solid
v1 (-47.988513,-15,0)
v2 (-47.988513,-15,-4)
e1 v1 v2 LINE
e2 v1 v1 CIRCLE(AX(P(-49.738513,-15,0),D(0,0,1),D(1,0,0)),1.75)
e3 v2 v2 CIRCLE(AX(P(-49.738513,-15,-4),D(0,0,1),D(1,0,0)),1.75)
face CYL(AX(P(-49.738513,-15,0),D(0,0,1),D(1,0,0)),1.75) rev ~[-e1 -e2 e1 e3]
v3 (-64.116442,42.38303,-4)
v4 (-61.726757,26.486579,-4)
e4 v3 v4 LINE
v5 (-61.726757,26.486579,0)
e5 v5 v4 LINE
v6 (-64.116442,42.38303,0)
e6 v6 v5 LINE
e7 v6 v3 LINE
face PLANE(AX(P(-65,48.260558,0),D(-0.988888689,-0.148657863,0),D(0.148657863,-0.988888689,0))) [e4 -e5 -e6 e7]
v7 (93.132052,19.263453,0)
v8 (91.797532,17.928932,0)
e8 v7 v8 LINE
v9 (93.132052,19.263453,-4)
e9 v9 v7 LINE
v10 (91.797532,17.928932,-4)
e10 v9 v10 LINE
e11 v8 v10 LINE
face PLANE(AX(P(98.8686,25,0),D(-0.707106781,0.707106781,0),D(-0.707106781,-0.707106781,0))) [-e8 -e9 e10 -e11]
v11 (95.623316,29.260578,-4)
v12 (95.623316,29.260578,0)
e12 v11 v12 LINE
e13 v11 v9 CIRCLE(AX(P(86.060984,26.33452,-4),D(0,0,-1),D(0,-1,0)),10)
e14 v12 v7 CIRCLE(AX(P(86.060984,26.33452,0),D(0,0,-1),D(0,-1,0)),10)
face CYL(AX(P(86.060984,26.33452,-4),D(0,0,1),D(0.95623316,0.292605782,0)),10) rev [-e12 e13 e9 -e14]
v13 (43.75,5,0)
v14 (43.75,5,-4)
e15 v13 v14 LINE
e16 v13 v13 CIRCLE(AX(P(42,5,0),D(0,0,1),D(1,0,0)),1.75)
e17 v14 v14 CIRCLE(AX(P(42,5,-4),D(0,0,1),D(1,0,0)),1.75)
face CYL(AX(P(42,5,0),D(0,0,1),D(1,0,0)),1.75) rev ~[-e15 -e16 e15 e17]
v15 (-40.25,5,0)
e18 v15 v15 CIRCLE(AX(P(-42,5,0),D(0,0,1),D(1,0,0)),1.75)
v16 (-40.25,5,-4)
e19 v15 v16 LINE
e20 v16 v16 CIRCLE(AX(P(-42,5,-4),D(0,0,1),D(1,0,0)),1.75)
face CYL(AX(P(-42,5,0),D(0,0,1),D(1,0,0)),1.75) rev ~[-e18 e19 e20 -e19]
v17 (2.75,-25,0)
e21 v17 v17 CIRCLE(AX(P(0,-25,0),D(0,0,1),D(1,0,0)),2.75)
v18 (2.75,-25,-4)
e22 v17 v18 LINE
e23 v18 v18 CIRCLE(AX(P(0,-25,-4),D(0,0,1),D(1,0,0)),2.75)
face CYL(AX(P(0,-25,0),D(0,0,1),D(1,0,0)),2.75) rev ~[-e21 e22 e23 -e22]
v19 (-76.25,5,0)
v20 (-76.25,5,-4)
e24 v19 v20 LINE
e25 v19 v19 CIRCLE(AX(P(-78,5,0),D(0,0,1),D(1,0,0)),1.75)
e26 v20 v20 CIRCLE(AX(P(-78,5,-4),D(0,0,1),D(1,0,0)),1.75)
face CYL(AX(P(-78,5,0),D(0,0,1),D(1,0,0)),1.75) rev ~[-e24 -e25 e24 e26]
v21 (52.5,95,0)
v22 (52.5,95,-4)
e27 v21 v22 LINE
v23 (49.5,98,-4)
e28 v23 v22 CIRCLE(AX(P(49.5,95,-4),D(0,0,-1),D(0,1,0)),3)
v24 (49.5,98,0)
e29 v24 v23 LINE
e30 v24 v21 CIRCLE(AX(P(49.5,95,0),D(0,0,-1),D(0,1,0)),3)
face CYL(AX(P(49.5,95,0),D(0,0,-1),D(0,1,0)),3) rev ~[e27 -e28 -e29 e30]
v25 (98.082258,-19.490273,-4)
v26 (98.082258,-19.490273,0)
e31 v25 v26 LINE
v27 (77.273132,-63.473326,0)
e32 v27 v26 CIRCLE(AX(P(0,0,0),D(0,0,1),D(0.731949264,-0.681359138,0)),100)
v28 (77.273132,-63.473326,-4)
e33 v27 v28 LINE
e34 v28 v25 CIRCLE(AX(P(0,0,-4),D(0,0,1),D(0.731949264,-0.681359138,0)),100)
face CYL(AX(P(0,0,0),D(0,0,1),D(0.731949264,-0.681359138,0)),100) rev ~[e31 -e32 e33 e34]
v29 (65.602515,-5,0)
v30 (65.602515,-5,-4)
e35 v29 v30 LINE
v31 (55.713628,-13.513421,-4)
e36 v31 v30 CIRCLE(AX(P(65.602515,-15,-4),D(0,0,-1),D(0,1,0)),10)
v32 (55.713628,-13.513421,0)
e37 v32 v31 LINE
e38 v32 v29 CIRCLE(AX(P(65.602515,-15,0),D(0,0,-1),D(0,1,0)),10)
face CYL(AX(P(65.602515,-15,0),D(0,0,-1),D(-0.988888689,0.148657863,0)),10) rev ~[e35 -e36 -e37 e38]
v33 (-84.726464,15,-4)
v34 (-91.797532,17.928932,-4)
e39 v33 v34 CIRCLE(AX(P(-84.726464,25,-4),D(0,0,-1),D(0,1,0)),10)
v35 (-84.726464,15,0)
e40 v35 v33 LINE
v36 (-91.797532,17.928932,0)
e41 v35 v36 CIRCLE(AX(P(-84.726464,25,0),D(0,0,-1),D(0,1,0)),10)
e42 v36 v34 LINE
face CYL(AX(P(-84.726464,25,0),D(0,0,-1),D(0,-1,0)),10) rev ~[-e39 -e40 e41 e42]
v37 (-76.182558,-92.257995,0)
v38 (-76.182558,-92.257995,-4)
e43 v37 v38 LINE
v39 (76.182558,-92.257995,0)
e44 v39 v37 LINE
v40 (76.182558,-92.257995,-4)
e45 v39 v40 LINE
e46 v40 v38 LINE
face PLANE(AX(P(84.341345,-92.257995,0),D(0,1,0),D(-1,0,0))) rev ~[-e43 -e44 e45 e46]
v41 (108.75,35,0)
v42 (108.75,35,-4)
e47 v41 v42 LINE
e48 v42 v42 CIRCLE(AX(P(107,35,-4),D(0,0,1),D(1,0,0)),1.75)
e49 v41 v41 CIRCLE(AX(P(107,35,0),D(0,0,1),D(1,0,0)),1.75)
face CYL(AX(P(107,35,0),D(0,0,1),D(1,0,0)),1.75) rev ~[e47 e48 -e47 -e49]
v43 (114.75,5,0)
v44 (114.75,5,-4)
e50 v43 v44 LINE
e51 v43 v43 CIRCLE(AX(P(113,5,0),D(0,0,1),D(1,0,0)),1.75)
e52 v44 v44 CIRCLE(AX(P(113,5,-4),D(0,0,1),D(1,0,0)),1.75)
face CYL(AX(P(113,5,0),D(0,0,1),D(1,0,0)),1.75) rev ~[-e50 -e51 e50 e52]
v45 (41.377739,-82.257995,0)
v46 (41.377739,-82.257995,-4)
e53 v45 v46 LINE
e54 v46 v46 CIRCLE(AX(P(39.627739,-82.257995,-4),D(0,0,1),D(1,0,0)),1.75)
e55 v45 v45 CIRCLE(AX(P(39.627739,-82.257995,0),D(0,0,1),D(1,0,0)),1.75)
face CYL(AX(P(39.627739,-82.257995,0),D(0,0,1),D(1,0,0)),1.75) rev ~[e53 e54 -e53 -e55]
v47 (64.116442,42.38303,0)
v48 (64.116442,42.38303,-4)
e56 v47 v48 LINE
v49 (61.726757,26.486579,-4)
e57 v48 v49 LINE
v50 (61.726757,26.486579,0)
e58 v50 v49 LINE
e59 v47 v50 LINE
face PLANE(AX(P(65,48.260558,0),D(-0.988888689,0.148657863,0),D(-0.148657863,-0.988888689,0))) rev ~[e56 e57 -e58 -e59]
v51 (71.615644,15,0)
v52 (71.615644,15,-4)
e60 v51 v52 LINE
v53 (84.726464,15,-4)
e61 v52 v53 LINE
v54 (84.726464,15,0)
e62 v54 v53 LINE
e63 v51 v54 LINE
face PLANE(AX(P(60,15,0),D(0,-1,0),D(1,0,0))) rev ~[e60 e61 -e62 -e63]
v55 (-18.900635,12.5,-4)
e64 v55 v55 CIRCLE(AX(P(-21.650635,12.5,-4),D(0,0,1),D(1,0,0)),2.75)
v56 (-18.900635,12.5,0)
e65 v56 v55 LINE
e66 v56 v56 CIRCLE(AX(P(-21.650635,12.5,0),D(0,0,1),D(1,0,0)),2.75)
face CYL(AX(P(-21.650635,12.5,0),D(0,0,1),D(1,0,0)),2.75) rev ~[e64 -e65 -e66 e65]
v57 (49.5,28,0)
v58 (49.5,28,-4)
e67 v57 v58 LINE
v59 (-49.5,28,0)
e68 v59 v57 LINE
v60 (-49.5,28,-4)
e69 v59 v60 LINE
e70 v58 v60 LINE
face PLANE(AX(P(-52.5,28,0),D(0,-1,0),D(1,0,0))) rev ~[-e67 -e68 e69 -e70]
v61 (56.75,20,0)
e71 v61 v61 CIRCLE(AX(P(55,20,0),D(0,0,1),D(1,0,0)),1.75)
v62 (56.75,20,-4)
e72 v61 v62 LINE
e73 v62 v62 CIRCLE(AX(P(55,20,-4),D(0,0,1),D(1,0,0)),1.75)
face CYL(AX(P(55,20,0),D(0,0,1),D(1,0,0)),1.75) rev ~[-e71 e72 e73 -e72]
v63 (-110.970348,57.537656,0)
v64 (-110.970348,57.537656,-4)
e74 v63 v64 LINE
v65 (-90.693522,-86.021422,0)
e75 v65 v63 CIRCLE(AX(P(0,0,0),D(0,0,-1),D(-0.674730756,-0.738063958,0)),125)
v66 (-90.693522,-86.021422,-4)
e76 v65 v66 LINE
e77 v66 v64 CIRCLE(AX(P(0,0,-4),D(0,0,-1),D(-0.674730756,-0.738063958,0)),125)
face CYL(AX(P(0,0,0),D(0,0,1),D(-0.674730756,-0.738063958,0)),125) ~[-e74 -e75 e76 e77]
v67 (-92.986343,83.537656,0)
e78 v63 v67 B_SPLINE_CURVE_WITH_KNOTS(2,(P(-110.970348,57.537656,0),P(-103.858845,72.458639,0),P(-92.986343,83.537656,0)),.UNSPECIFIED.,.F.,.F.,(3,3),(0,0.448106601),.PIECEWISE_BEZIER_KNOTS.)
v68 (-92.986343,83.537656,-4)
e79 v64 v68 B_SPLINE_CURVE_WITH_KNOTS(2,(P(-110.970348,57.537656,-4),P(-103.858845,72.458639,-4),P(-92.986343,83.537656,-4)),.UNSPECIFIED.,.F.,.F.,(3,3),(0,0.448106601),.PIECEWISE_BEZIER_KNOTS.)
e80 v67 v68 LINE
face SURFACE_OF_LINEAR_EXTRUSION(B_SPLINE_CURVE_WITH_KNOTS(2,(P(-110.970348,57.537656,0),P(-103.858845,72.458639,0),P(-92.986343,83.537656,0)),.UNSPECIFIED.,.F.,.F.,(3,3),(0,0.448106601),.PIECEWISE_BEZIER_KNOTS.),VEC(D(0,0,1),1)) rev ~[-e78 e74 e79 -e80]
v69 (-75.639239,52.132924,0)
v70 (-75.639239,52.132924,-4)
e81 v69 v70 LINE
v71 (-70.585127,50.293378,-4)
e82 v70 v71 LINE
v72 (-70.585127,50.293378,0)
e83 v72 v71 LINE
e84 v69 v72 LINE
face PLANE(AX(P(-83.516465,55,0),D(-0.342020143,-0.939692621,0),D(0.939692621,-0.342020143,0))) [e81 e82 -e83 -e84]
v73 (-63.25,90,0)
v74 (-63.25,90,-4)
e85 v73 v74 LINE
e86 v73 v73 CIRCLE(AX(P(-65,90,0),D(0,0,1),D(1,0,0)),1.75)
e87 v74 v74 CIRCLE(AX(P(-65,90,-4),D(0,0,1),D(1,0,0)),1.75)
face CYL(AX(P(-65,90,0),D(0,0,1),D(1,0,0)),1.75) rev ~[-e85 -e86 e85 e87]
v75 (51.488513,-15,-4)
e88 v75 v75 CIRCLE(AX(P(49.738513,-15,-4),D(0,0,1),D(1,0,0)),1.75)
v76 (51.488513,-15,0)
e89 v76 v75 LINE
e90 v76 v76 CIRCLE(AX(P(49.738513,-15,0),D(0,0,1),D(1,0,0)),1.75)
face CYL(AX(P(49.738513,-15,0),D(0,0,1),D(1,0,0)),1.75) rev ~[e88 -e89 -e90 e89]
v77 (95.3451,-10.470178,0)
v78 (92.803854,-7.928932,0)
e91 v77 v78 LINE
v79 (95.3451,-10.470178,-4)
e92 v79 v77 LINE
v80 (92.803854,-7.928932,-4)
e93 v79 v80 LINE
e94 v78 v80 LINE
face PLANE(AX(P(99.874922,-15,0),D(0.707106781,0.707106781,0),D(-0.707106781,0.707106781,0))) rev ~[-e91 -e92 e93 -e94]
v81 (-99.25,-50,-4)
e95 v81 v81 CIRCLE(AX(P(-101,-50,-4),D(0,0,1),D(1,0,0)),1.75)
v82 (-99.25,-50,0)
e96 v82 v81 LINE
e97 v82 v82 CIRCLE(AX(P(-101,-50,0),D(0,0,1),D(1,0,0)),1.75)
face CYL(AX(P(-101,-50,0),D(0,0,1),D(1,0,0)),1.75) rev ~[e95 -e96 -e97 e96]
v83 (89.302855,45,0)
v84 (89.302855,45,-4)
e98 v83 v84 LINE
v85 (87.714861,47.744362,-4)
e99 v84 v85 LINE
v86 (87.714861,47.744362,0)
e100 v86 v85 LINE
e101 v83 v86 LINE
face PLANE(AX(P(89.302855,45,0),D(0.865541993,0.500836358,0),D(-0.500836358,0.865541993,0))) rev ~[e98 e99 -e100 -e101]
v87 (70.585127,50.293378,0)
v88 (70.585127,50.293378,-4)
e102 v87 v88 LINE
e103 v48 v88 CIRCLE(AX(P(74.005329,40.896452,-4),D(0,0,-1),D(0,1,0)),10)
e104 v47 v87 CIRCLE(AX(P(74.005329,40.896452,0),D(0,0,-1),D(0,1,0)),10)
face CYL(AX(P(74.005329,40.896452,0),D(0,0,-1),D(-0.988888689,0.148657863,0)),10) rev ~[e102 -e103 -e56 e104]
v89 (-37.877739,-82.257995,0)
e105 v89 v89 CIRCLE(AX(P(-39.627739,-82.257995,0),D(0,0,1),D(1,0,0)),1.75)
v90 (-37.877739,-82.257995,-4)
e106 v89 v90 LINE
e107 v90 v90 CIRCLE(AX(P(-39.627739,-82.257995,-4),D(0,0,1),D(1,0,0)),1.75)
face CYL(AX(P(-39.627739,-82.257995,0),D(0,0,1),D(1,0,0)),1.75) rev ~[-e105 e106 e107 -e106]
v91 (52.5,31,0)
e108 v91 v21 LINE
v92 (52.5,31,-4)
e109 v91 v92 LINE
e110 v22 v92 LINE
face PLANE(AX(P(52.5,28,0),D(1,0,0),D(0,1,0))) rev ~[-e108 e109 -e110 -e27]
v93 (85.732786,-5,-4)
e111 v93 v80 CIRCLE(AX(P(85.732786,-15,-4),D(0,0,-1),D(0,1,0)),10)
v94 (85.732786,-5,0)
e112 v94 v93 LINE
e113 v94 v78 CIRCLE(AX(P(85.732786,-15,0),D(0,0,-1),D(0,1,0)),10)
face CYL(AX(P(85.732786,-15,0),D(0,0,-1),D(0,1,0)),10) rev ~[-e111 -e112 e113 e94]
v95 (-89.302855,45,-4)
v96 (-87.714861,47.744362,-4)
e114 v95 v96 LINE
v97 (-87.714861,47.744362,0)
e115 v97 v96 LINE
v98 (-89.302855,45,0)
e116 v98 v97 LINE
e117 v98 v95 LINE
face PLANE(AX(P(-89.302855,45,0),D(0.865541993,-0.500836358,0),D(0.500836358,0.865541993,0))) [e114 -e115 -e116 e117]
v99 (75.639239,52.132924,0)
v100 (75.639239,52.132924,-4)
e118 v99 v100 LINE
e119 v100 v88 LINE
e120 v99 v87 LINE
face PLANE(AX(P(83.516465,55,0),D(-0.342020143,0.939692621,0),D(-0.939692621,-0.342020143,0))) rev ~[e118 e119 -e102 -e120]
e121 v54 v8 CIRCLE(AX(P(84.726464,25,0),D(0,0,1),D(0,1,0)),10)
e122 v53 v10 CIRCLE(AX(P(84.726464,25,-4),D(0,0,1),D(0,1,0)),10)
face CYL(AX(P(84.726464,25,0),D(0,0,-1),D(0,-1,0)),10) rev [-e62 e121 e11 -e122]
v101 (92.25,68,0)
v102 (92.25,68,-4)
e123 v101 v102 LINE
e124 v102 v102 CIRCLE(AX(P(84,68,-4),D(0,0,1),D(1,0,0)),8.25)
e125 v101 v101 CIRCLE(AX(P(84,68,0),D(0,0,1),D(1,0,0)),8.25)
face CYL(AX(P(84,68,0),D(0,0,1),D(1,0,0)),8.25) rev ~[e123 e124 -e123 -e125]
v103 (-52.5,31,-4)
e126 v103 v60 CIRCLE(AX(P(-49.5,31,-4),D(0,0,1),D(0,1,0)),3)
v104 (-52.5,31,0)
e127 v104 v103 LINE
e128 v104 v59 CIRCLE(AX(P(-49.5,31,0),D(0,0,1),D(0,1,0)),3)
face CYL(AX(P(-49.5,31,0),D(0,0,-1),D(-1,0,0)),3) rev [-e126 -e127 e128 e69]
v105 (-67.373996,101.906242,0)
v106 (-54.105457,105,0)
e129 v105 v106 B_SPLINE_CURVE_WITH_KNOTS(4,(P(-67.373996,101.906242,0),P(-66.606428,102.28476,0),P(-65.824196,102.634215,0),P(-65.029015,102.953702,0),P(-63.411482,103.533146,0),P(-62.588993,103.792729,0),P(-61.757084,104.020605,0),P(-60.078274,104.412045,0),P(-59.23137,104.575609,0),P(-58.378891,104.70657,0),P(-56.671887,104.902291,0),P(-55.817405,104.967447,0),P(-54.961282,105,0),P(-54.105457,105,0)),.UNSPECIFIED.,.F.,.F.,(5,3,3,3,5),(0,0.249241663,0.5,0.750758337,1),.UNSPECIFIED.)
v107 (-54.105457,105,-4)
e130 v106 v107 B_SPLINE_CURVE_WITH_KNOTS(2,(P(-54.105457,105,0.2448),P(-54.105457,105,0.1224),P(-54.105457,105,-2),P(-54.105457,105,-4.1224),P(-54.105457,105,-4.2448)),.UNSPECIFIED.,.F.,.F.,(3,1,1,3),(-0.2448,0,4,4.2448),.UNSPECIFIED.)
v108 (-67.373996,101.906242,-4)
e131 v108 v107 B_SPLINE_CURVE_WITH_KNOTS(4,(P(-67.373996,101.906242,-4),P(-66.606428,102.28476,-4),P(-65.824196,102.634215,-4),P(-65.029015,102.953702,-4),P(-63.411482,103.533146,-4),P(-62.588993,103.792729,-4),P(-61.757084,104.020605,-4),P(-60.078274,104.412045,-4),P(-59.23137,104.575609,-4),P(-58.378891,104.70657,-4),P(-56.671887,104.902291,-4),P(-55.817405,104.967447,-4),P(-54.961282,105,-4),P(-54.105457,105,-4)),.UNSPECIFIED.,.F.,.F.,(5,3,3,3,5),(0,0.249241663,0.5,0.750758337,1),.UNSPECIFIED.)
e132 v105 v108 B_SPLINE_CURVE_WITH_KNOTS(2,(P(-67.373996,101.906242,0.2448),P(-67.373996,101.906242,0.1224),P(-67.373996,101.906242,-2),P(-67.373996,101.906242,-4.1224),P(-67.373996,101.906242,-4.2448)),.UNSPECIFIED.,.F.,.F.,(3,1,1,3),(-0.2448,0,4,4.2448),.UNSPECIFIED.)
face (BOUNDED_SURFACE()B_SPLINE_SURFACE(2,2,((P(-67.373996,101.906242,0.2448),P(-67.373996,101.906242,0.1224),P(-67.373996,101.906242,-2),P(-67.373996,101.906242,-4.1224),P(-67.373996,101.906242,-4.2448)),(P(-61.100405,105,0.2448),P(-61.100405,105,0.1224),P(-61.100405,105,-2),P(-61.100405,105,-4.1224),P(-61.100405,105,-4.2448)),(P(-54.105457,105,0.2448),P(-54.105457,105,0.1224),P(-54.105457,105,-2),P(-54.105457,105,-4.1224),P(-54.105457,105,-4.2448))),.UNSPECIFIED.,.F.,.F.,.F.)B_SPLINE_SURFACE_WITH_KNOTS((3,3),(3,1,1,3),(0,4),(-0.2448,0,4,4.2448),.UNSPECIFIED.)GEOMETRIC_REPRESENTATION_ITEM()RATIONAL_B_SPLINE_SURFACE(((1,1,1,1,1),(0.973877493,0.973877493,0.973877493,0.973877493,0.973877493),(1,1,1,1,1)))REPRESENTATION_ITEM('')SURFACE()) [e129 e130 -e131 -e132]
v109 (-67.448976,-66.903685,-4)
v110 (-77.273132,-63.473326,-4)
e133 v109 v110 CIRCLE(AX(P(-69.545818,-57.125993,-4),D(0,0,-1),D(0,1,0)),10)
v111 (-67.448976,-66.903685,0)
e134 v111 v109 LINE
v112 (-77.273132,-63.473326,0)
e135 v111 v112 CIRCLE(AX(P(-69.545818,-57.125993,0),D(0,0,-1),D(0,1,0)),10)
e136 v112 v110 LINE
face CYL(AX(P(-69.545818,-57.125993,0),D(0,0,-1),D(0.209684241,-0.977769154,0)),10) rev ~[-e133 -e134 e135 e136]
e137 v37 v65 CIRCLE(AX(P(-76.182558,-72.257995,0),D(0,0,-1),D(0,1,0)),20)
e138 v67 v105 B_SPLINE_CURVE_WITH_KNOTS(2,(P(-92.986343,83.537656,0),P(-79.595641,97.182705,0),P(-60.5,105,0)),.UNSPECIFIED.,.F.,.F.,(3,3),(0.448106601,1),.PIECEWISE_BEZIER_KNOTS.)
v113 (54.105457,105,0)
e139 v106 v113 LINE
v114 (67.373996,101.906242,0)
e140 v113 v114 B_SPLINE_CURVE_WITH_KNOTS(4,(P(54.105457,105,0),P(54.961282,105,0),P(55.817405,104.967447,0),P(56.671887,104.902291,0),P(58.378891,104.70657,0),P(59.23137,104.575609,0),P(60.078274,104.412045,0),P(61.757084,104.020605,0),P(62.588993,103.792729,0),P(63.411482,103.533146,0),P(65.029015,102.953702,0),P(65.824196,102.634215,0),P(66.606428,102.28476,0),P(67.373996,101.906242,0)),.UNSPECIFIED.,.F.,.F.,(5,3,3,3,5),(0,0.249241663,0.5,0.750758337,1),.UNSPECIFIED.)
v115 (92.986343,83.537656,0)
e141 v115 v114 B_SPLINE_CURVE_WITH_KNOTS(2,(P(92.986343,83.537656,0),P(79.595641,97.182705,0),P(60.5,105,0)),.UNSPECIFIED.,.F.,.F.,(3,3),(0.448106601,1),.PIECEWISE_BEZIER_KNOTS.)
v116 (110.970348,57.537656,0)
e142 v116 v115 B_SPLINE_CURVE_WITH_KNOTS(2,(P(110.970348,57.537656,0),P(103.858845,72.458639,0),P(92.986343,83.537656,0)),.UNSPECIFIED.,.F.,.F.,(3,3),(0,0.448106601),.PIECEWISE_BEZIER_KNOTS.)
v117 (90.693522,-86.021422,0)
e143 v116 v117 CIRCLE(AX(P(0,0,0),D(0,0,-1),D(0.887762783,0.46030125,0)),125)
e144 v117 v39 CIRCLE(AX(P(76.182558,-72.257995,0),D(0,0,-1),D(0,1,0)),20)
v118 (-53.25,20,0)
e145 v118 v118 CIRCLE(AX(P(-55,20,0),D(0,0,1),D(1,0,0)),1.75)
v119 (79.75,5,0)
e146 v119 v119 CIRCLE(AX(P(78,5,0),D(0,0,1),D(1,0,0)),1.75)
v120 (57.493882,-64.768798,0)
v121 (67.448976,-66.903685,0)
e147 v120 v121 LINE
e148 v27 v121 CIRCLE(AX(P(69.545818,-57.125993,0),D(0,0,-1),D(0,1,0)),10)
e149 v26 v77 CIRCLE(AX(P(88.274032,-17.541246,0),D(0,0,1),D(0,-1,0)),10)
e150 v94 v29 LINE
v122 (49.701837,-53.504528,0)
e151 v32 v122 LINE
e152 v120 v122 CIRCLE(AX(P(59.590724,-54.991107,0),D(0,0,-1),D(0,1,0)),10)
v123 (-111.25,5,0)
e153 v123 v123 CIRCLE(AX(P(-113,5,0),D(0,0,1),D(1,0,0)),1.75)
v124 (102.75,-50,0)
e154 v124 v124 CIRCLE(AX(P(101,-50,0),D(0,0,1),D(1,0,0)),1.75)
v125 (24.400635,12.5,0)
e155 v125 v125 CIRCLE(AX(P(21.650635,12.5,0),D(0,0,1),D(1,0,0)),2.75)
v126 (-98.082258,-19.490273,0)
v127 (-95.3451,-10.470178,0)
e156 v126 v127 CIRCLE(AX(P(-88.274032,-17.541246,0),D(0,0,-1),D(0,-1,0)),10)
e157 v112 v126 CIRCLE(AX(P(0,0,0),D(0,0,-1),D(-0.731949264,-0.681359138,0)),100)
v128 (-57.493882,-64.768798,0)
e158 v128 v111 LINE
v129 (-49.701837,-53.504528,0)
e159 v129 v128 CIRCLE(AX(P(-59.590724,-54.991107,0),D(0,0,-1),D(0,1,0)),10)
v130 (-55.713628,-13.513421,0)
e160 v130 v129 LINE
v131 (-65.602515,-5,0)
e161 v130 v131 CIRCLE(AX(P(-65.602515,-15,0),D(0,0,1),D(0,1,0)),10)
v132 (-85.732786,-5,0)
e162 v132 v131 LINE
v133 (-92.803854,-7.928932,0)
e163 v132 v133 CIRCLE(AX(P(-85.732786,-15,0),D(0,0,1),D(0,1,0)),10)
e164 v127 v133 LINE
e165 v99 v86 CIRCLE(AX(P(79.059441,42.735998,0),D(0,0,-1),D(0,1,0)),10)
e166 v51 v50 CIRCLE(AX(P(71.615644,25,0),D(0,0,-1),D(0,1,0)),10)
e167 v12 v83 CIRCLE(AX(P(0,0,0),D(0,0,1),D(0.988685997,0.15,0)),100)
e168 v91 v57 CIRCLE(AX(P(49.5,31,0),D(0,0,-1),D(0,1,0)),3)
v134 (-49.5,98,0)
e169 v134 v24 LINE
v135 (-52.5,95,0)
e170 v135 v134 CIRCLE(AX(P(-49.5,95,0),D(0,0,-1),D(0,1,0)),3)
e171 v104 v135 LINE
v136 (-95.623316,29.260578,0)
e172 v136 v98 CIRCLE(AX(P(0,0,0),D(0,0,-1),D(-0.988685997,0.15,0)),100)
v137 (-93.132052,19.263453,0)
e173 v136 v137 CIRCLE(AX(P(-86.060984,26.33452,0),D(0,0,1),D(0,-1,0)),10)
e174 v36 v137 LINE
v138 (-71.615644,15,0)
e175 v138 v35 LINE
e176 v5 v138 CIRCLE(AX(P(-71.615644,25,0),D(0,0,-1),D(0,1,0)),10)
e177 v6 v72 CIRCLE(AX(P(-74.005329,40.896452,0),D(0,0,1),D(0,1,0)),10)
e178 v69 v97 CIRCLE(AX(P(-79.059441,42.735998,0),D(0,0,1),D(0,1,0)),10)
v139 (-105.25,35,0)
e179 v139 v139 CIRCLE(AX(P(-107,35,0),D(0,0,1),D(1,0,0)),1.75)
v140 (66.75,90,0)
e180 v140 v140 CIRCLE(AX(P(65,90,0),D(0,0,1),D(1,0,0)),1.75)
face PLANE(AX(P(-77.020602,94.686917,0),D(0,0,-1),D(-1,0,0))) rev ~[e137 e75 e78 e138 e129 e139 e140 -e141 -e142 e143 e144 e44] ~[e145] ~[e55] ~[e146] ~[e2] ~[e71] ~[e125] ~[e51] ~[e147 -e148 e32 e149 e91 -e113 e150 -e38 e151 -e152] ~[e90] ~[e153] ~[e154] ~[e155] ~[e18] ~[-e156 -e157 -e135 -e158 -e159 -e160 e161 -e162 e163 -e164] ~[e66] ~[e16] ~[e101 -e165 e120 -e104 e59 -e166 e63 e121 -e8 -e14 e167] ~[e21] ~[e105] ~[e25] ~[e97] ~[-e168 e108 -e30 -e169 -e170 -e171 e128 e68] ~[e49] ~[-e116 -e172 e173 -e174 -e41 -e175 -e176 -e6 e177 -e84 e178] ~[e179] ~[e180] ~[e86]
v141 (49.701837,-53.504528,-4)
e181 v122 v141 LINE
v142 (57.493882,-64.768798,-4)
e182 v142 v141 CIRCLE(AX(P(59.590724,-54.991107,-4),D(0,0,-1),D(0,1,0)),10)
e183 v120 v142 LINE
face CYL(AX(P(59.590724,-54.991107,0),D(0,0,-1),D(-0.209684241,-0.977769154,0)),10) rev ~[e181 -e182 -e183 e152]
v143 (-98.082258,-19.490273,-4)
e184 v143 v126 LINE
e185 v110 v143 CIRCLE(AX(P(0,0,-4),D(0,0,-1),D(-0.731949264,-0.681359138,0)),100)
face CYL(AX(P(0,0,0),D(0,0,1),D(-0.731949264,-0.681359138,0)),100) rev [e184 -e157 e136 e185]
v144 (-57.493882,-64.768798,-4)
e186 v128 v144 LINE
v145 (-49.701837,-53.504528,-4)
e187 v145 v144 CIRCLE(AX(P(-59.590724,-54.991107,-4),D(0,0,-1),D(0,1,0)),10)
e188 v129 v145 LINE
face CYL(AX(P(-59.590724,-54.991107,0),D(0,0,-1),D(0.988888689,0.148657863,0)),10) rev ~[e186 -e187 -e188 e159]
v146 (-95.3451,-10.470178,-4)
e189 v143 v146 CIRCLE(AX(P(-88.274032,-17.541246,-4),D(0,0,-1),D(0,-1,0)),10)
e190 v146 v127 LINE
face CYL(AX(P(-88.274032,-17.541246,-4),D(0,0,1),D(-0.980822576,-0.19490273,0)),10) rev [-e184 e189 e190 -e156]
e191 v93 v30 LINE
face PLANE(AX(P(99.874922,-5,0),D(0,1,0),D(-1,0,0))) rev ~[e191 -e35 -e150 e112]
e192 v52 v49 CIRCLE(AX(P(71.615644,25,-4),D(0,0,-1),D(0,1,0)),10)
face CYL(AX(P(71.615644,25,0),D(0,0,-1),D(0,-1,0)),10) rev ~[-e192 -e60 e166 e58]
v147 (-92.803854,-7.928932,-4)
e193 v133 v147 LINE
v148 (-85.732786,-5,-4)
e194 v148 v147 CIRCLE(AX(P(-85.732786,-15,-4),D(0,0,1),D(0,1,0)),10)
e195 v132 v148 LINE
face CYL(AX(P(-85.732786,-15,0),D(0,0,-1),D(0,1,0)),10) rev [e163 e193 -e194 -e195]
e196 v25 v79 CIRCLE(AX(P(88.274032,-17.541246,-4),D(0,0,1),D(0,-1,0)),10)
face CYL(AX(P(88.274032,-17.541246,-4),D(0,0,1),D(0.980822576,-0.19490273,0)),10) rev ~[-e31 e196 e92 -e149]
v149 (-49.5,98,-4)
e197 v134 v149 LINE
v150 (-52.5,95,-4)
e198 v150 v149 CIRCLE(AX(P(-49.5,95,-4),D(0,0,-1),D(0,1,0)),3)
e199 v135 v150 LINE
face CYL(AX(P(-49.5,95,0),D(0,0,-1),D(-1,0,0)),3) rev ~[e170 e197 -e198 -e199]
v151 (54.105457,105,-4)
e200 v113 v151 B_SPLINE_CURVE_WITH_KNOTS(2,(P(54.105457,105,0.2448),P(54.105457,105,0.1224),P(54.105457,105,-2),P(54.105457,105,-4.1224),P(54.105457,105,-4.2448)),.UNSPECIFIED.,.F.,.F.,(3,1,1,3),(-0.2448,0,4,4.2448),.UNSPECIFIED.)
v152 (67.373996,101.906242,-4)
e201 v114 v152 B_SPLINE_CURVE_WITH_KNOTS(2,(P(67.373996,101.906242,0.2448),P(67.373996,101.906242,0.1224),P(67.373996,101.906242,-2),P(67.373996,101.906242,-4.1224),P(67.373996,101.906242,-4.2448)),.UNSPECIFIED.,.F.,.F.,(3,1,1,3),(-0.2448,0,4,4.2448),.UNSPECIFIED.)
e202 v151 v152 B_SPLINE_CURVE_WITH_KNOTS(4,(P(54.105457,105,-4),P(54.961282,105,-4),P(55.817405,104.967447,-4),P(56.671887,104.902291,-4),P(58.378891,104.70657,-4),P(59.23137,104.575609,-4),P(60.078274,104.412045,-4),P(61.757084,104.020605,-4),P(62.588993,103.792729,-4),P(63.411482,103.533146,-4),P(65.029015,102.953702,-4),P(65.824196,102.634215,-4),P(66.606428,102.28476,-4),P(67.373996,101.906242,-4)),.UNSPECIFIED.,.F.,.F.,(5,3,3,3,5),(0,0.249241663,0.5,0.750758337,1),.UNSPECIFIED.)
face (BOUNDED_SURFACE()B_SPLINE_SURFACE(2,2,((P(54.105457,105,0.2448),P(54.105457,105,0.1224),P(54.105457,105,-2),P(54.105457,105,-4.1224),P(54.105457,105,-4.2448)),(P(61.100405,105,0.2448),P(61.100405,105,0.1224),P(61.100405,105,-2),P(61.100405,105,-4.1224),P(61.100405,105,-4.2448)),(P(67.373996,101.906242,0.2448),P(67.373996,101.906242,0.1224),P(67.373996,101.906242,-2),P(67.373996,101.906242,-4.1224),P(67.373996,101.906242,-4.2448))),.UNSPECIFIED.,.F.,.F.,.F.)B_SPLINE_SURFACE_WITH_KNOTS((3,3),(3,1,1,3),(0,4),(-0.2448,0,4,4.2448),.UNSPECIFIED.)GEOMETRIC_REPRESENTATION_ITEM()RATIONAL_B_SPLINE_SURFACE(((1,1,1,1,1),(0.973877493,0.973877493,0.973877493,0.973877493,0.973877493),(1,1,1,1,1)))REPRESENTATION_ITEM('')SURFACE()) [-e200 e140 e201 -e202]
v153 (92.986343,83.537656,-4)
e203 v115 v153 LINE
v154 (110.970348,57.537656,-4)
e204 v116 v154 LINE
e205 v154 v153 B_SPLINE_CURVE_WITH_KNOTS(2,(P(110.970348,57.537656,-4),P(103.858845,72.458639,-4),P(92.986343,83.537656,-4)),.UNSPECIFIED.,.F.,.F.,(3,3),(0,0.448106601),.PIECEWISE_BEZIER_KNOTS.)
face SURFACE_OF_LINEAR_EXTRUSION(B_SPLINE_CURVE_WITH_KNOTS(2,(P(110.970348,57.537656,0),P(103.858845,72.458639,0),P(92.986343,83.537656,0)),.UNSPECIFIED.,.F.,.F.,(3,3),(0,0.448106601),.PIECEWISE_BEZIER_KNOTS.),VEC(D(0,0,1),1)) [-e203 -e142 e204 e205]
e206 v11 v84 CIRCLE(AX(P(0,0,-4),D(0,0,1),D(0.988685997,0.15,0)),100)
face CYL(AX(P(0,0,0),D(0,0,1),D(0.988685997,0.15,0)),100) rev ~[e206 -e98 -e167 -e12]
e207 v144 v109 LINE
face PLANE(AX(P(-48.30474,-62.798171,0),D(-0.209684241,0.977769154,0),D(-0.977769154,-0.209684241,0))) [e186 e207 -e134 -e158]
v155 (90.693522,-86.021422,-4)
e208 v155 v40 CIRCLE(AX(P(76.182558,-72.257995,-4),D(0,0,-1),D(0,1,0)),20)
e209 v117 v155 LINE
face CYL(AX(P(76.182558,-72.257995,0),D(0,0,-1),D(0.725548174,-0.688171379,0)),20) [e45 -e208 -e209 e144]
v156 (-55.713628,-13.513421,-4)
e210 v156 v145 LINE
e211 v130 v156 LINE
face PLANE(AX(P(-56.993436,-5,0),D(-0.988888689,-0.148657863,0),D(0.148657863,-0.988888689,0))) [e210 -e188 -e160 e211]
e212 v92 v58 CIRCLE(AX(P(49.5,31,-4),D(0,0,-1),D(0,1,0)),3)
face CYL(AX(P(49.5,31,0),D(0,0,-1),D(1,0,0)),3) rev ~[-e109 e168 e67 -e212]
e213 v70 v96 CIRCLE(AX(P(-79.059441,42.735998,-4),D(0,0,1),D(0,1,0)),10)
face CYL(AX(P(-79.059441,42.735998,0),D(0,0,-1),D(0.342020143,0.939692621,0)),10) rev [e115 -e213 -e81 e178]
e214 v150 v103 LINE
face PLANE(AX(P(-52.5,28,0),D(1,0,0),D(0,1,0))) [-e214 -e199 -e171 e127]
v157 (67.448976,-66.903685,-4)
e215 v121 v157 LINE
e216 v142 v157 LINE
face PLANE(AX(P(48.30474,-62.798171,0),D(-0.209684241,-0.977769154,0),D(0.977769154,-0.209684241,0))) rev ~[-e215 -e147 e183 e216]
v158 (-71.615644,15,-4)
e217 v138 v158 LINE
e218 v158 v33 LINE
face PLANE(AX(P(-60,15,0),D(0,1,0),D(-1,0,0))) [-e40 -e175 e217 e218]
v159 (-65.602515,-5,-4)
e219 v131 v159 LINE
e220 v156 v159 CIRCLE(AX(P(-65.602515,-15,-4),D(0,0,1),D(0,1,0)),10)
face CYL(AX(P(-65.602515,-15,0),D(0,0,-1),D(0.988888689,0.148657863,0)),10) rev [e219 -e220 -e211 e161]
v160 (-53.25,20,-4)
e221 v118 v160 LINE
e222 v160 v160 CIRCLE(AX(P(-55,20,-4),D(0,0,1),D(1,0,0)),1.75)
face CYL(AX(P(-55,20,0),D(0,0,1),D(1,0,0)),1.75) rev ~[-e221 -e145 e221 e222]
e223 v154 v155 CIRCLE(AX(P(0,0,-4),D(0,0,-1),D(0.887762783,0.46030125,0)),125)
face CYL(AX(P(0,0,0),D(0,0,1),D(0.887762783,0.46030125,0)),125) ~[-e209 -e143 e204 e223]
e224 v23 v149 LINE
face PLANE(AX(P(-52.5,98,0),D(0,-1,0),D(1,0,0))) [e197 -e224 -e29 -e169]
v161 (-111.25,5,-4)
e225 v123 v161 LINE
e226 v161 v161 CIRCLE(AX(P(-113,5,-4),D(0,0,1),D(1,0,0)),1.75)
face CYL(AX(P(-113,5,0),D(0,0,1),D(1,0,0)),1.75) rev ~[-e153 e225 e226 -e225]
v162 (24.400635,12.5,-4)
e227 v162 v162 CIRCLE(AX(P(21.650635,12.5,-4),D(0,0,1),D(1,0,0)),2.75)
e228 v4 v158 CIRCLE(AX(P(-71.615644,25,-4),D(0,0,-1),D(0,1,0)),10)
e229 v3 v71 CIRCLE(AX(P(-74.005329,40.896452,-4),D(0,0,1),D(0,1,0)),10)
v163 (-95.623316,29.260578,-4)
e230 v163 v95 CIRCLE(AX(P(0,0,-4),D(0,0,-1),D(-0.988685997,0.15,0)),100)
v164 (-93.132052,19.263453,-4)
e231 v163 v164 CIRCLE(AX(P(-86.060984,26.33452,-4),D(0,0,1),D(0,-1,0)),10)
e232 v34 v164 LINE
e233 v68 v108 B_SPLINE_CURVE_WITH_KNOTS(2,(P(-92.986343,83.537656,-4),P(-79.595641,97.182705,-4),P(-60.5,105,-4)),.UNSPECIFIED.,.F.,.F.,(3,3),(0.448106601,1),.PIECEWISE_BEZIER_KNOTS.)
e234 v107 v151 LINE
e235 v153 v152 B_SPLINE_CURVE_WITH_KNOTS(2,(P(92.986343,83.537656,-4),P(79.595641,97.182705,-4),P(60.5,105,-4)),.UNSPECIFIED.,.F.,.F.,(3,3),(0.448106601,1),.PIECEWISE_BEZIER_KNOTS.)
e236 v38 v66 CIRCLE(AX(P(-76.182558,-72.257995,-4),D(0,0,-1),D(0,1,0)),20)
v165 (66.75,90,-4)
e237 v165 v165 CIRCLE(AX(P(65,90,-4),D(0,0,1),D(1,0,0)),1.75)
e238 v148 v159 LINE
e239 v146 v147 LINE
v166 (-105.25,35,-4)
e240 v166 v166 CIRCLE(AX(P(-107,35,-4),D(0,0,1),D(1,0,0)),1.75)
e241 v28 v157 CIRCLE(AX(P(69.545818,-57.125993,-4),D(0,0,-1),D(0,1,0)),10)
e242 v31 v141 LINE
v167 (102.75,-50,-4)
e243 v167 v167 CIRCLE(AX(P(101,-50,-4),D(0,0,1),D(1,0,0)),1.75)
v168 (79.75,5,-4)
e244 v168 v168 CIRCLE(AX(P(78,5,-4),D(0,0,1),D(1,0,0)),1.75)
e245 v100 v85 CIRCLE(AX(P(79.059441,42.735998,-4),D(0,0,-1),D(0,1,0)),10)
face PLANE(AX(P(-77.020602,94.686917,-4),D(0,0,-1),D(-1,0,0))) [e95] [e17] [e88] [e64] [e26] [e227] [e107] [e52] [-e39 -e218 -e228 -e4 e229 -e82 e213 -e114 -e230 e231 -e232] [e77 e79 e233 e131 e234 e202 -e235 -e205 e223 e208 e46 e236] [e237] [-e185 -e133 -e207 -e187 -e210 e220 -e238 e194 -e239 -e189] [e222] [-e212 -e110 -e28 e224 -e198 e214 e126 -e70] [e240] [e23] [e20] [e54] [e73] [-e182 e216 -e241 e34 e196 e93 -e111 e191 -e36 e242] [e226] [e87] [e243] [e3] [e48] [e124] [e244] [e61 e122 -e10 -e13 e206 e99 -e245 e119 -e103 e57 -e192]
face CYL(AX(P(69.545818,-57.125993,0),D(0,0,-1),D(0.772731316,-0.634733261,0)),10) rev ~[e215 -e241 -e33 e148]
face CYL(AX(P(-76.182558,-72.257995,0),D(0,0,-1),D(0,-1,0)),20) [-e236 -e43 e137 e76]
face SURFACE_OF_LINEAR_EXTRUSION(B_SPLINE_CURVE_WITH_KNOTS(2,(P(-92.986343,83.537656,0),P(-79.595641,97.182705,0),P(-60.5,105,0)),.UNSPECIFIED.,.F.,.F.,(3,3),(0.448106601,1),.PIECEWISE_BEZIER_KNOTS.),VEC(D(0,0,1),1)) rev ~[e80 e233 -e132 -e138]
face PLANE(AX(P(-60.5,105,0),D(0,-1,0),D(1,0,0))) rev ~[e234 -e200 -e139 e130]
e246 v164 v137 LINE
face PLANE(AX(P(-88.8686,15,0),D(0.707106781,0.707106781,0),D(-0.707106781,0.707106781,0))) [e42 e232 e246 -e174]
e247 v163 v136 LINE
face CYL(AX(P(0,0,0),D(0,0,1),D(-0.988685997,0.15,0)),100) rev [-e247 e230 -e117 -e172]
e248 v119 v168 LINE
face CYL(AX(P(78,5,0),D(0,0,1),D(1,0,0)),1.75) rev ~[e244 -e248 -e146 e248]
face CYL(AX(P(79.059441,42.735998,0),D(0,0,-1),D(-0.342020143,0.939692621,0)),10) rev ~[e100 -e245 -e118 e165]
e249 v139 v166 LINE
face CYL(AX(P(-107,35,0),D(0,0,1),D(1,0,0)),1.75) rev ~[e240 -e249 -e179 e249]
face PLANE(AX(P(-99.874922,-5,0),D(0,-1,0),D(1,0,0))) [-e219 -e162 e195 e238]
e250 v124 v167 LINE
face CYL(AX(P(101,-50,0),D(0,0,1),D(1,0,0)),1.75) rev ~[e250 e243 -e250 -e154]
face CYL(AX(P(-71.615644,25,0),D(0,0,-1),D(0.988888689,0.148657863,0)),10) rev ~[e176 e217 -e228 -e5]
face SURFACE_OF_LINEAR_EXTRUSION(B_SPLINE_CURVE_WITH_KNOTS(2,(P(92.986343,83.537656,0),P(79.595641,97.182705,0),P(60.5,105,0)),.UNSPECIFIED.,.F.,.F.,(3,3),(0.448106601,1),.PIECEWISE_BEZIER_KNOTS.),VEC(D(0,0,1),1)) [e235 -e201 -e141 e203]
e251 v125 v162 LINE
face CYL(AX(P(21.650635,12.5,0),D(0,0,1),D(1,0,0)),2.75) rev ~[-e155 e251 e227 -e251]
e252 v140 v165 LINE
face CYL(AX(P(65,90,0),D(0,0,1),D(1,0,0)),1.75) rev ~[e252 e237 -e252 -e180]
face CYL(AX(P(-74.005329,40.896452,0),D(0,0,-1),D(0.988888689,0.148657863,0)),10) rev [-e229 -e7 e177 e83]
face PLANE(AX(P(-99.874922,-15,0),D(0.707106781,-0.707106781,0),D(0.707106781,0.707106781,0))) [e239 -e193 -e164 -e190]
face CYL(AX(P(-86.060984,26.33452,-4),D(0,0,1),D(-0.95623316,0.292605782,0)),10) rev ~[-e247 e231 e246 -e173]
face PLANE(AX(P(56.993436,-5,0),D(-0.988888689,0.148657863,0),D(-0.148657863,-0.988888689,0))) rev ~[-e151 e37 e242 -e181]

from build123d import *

# Parameters (mm, degrees)
EXTRUDE_1_DEPTH     = 4
EXTRUDE_3_DEPTH     = 4
FILLET_1_R          = 10
FILLET_2_R          = 10
FILLET_3_R          = 10
FILLET_4_R          = 20
SKETCH_11_W         = 105
SKETCH_11_H         = 70
CUT_EXTRUDE_1_DEPTH = 10
FILLET_7_R          = 3
EXTRUDE_4_DEPTH     = 4
FILLET_8_R          = 30
SKETCH_13_R         = 1.75
CUT_EXTRUDE_2_DEPTH = 10
SKETCH_14_R         = 1.75
CUT_EXTRUDE_3_DEPTH = 10
SKETCH_15_R         = 2.75
CUT_EXTRUDE_4_DEPTH = 10
SKETCH_16_R         = 8.25
CUT_EXTRUDE_5_DEPTH = 10
SKETCH_18_R         = 1.75
CUT_EXTRUDE_6_DEPTH = 10


with BuildPart() as part:
    # ｽｹｯﾁ8 → ﾎﾞｽ - 押し出し1 (new body)
    with BuildSketch(Plane.XY):
        with BuildLine():
            Line((-110.970347899, 57.537656255), (-92.986343016, 83.537656255))
            Line((-92.986343016, 83.537656255), (-60.5, 105))
            Line((-60.5, 105), (60.5, 105))
            Line((60.5, 105), (92.986343016, 83.537656255))
            Line((92.986343016, 83.537656255), (110.970347899, 57.537656255))
            ThreePointArc((110.970347899, 57.537656255), (123.070502428, -21.878103945), (84.341344527, -92.257994794))
            Line((84.341344527, -92.257994794), (-84.341344527, -92.257994794))
            ThreePointArc((-84.341344527, -92.257994794), (-123.070502428, -21.878103945), (-110.970347899, 57.537656255))
        make_face()
        with BuildLine():
            Line((-89.302855497, 45), (-83.516465442, 55))
            Line((-83.516465442, 55), (-65, 48.260557735))
            Line((-65, 48.260557735), (-60, 15))
            Line((-60, 15), (-98.868599666, 15))
            ThreePointArc((-98.868599666, 15), (-95.273942579, 30.378872023), (-89.302855497, 45))
        make_face(mode=Mode.SUBTRACT)
        with BuildLine():
            Line((89.302855497, 45), (83.516465442, 55))
            Line((83.516465442, 55), (65, 48.260557735))
            Line((65, 48.260557735), (60, 15))
            Line((60, 15), (98.868599666, 15))
            ThreePointArc((98.868599666, 15), (95.273942579, 30.378872023), (89.302855497, 45))
        make_face(mode=Mode.SUBTRACT)
        with BuildLine():
            Line((-56.993435865, -5), (-48.304740393, -62.798171475))
            Line((-48.304740393, -62.798171475), (-73.194926437, -68.13591376))
            ThreePointArc((-73.194926437, -68.13591376), (-92.113131484, -38.9251976), (-99.874921777, -5))
            Line((-99.874921777, -5), (-56.993435865, -5))
        make_face(mode=Mode.SUBTRACT)
        with BuildLine():
            Line((56.993435865, -5), (48.304740393, -62.798171475))
            Line((48.304740393, -62.798171475), (73.194926437, -68.13591376))
            ThreePointArc((73.194926437, -68.13591376), (92.113131484, -38.9251976), (99.874921777, -5))
            Line((99.874921777, -5), (56.993435865, -5))
        make_face(mode=Mode.SUBTRACT)
    extrude(amount=-EXTRUDE_1_DEPTH)

    # ｽｹｯﾁ10 → ﾎﾞｽ - 押し出し3 (add)
    with BuildSketch(Plane.XY):
        Polygon((-99.874921777, -15), (-89.874921777, -5), (-99.874921777, -5), align=None)
        Polygon((-98.868599666, 15), (-88.868599666, 15), (-98.868599666, 25), align=None)
        Polygon((88.868599666, 15), (98.868599666, 15), (98.868599666, 25), align=None)
        Polygon((89.874921777, -5), (99.874921777, -5), (99.874921777, -15), align=None)
    extrude(amount=-EXTRUDE_3_DEPTH)

    # ﾌｨﾚｯﾄ1
    fillet_1_edges = [part.edges().sort_by_distance(p)[0] for p in [
        (-97.232371907, 23.363772241, -2),
        (-88.868599666, 15, -2),
        (88.868599666, 15, -2),
        (97.232371907, 23.363772241, -2),
        (98.997711183, -14.122789405, -2),
        (89.874921777, -5, -2),
        (-48.304740393, -62.798171475, -2),
        (-73.194926437, -68.13591376, -2),
        (48.304740393, -62.798171475, -2),
        (73.194926437, -68.13591376, -2),
        (-98.997711183, -14.122789405, -2),
        (-89.874921777, -5, -2),
    ]]
    fillet(fillet_1_edges, radius=FILLET_1_R)

    # ﾌｨﾚｯﾄ2
    fillet_2_edges = [part.edges().sort_by_distance(p)[0] for p in [
        (-56.993435865, -5, -2),
        (-60, 15, -2),
        (56.993435865, -5, -2),
        (60, 15, -2),
    ]]
    fillet(fillet_2_edges, radius=FILLET_2_R)

    # ﾌｨﾚｯﾄ3
    fillet_3_edges = [part.edges().sort_by_distance(p)[0] for p in [
        (-65, 48.260557735, -2),
        (-83.516465442, 55, -2),
        (83.516465442, 55, -2),
        (65, 48.260557735, -2),
    ]]
    fillet(fillet_3_edges, radius=FILLET_3_R)

    # ﾌｨﾚｯﾄ4
    fillet_4_edges = [part.edges().sort_by_distance(p)[0] for p in [
        (84.341344527, -92.257994794, -2),
        (-84.341344527, -92.257994794, -2),
    ]]
    fillet(fillet_4_edges, radius=FILLET_4_R)

    # ｽｹｯﾁ11 → ｶｯﾄ - 押し出し1 (cut)
    with BuildSketch(Plane.XY):
        with Locations((0, 63)):
            Rectangle(SKETCH_11_W, SKETCH_11_H)
    extrude(amount=-CUT_EXTRUDE_1_DEPTH, mode=Mode.SUBTRACT)

    # ﾌｨﾚｯﾄ7
    fillet_7_edges = [part.edges().sort_by_distance(p)[0] for p in [
        (52.5, 98, -2),
        (52.5, 28, -2),
        (-52.5, 28, -2),
        (-52.5, 98, -2),
    ]]
    fillet(fillet_7_edges, radius=FILLET_7_R)

    # ｽｹｯﾁ12 → ﾎﾞｽ - 押し出し4 (add)
    with BuildSketch(Plane.XY):
        with BuildLine():
            add(Edge.make_bspline(
                [(-92.986343016, 83.537656255), (-79.595640691, 97.18270504), (-60.5, 105)],
                knots=[0.448106601, 0.448106601, 0.448106601, 1, 1, 1], degree=2))
            Line((-92.986343016, 83.537656255), (-60.5, 105))
        make_face()
        with BuildLine():
            add(Edge.make_bspline(
                [(-110.970347899, 57.537656255), (-103.858845057, 72.4586391), (-92.986343016, 83.537656255)],
                knots=[0, 0, 0, 0.448106601, 0.448106601, 0.448106601], degree=2))
            Line((-110.970347899, 57.537656255), (-92.986343016, 83.537656255))
        make_face()
        with BuildLine():
            add(Edge.make_bspline(
                [(92.986343016, 83.537656255), (79.595640691, 97.18270504), (60.5, 105)],
                knots=[0.448106601, 0.448106601, 0.448106601, 1, 1, 1], degree=2))
            Line((60.5, 105), (92.986343016, 83.537656255))
        make_face()
        with BuildLine():
            add(Edge.make_bspline(
                [(110.970347899, 57.537656255), (103.858845057, 72.4586391), (92.986343016, 83.537656255)],
                knots=[0, 0, 0, 0.448106601, 0.448106601, 0.448106601], degree=2))
            Line((92.986343016, 83.537656255), (110.970347899, 57.537656255))
        make_face()
    extrude(amount=-EXTRUDE_4_DEPTH)

    # ﾌｨﾚｯﾄ8
    fillet_8_edges = [part.edges().sort_by_distance(p)[0] for p in [
        (-60.5, 105, -2),
        (60.5, 105, -2),
    ]]
    fillet(fillet_8_edges, radius=FILLET_8_R)

    # ｽｹｯﾁ13 → ｶｯﾄ - 押し出し2 (cut)
    with BuildSketch(Plane.XY):
        with Locations((107, 35)):
            Circle(SKETCH_13_R)
        with Locations((113, 5)):
            Circle(SKETCH_13_R)
        with Locations((78, 5)):
            Circle(SKETCH_13_R)
        with Locations((101, -50)):
            Circle(SKETCH_13_R)
        with Locations((-101, -50)):
            Circle(SKETCH_13_R)
        with Locations((-78, 5)):
            Circle(SKETCH_13_R)
        with Locations((-113, 5)):
            Circle(SKETCH_13_R)
        with Locations((-107, 35)):
            Circle(SKETCH_13_R)
    extrude(amount=-CUT_EXTRUDE_2_DEPTH, mode=Mode.SUBTRACT)

    # ｽｹｯﾁ14 → ｶｯﾄ - 押し出し3 (cut)
    with BuildSketch(Plane.XY):
        with Locations((-65, 90)):
            Circle(SKETCH_14_R)
        with Locations((-55, 20)):
            Circle(SKETCH_14_R)
        with Locations((-49.738512764, -15)):
            Circle(SKETCH_14_R)
        with Locations((-39.627739016, -82.257994794)):
            Circle(SKETCH_14_R)
        with Locations((65, 90)):
            Circle(SKETCH_14_R)
        with Locations((55, 20)):
            Circle(SKETCH_14_R)
        with Locations((49.738512764, -15)):
            Circle(SKETCH_14_R)
        with Locations((39.627739016, -82.257994794)):
            Circle(SKETCH_14_R)
    extrude(amount=-CUT_EXTRUDE_3_DEPTH, mode=Mode.SUBTRACT)

    # ｽｹｯﾁ15 → ｶｯﾄ - 押し出し4 (cut)
    with BuildSketch(Plane.XY):
        with Locations((-21.650635095, 12.5)):
            Circle(SKETCH_15_R)
        with Locations((21.650635095, 12.5)):
            Circle(SKETCH_15_R)
        with Locations((0, -25)):
            Circle(SKETCH_15_R)
    extrude(amount=-CUT_EXTRUDE_4_DEPTH, mode=Mode.SUBTRACT)

    # ｽｹｯﾁ16 → ｶｯﾄ - 押し出し5 (cut)
    with BuildSketch(Plane.XY):
        with Locations((84, 68)):
            Circle(SKETCH_16_R)
    extrude(amount=-CUT_EXTRUDE_5_DEPTH, mode=Mode.SUBTRACT)

    # ｽｹｯﾁ18 → ｶｯﾄ - 押し出し6 (cut)
    with BuildSketch(Plane.XY):
        with Locations((-42, 5)):
            Circle(SKETCH_18_R)
        with Locations((42, 5)):
            Circle(SKETCH_18_R)
    extrude(amount=-CUT_EXTRUDE_6_DEPTH, mode=Mode.SUBTRACT)


solid = part.part
